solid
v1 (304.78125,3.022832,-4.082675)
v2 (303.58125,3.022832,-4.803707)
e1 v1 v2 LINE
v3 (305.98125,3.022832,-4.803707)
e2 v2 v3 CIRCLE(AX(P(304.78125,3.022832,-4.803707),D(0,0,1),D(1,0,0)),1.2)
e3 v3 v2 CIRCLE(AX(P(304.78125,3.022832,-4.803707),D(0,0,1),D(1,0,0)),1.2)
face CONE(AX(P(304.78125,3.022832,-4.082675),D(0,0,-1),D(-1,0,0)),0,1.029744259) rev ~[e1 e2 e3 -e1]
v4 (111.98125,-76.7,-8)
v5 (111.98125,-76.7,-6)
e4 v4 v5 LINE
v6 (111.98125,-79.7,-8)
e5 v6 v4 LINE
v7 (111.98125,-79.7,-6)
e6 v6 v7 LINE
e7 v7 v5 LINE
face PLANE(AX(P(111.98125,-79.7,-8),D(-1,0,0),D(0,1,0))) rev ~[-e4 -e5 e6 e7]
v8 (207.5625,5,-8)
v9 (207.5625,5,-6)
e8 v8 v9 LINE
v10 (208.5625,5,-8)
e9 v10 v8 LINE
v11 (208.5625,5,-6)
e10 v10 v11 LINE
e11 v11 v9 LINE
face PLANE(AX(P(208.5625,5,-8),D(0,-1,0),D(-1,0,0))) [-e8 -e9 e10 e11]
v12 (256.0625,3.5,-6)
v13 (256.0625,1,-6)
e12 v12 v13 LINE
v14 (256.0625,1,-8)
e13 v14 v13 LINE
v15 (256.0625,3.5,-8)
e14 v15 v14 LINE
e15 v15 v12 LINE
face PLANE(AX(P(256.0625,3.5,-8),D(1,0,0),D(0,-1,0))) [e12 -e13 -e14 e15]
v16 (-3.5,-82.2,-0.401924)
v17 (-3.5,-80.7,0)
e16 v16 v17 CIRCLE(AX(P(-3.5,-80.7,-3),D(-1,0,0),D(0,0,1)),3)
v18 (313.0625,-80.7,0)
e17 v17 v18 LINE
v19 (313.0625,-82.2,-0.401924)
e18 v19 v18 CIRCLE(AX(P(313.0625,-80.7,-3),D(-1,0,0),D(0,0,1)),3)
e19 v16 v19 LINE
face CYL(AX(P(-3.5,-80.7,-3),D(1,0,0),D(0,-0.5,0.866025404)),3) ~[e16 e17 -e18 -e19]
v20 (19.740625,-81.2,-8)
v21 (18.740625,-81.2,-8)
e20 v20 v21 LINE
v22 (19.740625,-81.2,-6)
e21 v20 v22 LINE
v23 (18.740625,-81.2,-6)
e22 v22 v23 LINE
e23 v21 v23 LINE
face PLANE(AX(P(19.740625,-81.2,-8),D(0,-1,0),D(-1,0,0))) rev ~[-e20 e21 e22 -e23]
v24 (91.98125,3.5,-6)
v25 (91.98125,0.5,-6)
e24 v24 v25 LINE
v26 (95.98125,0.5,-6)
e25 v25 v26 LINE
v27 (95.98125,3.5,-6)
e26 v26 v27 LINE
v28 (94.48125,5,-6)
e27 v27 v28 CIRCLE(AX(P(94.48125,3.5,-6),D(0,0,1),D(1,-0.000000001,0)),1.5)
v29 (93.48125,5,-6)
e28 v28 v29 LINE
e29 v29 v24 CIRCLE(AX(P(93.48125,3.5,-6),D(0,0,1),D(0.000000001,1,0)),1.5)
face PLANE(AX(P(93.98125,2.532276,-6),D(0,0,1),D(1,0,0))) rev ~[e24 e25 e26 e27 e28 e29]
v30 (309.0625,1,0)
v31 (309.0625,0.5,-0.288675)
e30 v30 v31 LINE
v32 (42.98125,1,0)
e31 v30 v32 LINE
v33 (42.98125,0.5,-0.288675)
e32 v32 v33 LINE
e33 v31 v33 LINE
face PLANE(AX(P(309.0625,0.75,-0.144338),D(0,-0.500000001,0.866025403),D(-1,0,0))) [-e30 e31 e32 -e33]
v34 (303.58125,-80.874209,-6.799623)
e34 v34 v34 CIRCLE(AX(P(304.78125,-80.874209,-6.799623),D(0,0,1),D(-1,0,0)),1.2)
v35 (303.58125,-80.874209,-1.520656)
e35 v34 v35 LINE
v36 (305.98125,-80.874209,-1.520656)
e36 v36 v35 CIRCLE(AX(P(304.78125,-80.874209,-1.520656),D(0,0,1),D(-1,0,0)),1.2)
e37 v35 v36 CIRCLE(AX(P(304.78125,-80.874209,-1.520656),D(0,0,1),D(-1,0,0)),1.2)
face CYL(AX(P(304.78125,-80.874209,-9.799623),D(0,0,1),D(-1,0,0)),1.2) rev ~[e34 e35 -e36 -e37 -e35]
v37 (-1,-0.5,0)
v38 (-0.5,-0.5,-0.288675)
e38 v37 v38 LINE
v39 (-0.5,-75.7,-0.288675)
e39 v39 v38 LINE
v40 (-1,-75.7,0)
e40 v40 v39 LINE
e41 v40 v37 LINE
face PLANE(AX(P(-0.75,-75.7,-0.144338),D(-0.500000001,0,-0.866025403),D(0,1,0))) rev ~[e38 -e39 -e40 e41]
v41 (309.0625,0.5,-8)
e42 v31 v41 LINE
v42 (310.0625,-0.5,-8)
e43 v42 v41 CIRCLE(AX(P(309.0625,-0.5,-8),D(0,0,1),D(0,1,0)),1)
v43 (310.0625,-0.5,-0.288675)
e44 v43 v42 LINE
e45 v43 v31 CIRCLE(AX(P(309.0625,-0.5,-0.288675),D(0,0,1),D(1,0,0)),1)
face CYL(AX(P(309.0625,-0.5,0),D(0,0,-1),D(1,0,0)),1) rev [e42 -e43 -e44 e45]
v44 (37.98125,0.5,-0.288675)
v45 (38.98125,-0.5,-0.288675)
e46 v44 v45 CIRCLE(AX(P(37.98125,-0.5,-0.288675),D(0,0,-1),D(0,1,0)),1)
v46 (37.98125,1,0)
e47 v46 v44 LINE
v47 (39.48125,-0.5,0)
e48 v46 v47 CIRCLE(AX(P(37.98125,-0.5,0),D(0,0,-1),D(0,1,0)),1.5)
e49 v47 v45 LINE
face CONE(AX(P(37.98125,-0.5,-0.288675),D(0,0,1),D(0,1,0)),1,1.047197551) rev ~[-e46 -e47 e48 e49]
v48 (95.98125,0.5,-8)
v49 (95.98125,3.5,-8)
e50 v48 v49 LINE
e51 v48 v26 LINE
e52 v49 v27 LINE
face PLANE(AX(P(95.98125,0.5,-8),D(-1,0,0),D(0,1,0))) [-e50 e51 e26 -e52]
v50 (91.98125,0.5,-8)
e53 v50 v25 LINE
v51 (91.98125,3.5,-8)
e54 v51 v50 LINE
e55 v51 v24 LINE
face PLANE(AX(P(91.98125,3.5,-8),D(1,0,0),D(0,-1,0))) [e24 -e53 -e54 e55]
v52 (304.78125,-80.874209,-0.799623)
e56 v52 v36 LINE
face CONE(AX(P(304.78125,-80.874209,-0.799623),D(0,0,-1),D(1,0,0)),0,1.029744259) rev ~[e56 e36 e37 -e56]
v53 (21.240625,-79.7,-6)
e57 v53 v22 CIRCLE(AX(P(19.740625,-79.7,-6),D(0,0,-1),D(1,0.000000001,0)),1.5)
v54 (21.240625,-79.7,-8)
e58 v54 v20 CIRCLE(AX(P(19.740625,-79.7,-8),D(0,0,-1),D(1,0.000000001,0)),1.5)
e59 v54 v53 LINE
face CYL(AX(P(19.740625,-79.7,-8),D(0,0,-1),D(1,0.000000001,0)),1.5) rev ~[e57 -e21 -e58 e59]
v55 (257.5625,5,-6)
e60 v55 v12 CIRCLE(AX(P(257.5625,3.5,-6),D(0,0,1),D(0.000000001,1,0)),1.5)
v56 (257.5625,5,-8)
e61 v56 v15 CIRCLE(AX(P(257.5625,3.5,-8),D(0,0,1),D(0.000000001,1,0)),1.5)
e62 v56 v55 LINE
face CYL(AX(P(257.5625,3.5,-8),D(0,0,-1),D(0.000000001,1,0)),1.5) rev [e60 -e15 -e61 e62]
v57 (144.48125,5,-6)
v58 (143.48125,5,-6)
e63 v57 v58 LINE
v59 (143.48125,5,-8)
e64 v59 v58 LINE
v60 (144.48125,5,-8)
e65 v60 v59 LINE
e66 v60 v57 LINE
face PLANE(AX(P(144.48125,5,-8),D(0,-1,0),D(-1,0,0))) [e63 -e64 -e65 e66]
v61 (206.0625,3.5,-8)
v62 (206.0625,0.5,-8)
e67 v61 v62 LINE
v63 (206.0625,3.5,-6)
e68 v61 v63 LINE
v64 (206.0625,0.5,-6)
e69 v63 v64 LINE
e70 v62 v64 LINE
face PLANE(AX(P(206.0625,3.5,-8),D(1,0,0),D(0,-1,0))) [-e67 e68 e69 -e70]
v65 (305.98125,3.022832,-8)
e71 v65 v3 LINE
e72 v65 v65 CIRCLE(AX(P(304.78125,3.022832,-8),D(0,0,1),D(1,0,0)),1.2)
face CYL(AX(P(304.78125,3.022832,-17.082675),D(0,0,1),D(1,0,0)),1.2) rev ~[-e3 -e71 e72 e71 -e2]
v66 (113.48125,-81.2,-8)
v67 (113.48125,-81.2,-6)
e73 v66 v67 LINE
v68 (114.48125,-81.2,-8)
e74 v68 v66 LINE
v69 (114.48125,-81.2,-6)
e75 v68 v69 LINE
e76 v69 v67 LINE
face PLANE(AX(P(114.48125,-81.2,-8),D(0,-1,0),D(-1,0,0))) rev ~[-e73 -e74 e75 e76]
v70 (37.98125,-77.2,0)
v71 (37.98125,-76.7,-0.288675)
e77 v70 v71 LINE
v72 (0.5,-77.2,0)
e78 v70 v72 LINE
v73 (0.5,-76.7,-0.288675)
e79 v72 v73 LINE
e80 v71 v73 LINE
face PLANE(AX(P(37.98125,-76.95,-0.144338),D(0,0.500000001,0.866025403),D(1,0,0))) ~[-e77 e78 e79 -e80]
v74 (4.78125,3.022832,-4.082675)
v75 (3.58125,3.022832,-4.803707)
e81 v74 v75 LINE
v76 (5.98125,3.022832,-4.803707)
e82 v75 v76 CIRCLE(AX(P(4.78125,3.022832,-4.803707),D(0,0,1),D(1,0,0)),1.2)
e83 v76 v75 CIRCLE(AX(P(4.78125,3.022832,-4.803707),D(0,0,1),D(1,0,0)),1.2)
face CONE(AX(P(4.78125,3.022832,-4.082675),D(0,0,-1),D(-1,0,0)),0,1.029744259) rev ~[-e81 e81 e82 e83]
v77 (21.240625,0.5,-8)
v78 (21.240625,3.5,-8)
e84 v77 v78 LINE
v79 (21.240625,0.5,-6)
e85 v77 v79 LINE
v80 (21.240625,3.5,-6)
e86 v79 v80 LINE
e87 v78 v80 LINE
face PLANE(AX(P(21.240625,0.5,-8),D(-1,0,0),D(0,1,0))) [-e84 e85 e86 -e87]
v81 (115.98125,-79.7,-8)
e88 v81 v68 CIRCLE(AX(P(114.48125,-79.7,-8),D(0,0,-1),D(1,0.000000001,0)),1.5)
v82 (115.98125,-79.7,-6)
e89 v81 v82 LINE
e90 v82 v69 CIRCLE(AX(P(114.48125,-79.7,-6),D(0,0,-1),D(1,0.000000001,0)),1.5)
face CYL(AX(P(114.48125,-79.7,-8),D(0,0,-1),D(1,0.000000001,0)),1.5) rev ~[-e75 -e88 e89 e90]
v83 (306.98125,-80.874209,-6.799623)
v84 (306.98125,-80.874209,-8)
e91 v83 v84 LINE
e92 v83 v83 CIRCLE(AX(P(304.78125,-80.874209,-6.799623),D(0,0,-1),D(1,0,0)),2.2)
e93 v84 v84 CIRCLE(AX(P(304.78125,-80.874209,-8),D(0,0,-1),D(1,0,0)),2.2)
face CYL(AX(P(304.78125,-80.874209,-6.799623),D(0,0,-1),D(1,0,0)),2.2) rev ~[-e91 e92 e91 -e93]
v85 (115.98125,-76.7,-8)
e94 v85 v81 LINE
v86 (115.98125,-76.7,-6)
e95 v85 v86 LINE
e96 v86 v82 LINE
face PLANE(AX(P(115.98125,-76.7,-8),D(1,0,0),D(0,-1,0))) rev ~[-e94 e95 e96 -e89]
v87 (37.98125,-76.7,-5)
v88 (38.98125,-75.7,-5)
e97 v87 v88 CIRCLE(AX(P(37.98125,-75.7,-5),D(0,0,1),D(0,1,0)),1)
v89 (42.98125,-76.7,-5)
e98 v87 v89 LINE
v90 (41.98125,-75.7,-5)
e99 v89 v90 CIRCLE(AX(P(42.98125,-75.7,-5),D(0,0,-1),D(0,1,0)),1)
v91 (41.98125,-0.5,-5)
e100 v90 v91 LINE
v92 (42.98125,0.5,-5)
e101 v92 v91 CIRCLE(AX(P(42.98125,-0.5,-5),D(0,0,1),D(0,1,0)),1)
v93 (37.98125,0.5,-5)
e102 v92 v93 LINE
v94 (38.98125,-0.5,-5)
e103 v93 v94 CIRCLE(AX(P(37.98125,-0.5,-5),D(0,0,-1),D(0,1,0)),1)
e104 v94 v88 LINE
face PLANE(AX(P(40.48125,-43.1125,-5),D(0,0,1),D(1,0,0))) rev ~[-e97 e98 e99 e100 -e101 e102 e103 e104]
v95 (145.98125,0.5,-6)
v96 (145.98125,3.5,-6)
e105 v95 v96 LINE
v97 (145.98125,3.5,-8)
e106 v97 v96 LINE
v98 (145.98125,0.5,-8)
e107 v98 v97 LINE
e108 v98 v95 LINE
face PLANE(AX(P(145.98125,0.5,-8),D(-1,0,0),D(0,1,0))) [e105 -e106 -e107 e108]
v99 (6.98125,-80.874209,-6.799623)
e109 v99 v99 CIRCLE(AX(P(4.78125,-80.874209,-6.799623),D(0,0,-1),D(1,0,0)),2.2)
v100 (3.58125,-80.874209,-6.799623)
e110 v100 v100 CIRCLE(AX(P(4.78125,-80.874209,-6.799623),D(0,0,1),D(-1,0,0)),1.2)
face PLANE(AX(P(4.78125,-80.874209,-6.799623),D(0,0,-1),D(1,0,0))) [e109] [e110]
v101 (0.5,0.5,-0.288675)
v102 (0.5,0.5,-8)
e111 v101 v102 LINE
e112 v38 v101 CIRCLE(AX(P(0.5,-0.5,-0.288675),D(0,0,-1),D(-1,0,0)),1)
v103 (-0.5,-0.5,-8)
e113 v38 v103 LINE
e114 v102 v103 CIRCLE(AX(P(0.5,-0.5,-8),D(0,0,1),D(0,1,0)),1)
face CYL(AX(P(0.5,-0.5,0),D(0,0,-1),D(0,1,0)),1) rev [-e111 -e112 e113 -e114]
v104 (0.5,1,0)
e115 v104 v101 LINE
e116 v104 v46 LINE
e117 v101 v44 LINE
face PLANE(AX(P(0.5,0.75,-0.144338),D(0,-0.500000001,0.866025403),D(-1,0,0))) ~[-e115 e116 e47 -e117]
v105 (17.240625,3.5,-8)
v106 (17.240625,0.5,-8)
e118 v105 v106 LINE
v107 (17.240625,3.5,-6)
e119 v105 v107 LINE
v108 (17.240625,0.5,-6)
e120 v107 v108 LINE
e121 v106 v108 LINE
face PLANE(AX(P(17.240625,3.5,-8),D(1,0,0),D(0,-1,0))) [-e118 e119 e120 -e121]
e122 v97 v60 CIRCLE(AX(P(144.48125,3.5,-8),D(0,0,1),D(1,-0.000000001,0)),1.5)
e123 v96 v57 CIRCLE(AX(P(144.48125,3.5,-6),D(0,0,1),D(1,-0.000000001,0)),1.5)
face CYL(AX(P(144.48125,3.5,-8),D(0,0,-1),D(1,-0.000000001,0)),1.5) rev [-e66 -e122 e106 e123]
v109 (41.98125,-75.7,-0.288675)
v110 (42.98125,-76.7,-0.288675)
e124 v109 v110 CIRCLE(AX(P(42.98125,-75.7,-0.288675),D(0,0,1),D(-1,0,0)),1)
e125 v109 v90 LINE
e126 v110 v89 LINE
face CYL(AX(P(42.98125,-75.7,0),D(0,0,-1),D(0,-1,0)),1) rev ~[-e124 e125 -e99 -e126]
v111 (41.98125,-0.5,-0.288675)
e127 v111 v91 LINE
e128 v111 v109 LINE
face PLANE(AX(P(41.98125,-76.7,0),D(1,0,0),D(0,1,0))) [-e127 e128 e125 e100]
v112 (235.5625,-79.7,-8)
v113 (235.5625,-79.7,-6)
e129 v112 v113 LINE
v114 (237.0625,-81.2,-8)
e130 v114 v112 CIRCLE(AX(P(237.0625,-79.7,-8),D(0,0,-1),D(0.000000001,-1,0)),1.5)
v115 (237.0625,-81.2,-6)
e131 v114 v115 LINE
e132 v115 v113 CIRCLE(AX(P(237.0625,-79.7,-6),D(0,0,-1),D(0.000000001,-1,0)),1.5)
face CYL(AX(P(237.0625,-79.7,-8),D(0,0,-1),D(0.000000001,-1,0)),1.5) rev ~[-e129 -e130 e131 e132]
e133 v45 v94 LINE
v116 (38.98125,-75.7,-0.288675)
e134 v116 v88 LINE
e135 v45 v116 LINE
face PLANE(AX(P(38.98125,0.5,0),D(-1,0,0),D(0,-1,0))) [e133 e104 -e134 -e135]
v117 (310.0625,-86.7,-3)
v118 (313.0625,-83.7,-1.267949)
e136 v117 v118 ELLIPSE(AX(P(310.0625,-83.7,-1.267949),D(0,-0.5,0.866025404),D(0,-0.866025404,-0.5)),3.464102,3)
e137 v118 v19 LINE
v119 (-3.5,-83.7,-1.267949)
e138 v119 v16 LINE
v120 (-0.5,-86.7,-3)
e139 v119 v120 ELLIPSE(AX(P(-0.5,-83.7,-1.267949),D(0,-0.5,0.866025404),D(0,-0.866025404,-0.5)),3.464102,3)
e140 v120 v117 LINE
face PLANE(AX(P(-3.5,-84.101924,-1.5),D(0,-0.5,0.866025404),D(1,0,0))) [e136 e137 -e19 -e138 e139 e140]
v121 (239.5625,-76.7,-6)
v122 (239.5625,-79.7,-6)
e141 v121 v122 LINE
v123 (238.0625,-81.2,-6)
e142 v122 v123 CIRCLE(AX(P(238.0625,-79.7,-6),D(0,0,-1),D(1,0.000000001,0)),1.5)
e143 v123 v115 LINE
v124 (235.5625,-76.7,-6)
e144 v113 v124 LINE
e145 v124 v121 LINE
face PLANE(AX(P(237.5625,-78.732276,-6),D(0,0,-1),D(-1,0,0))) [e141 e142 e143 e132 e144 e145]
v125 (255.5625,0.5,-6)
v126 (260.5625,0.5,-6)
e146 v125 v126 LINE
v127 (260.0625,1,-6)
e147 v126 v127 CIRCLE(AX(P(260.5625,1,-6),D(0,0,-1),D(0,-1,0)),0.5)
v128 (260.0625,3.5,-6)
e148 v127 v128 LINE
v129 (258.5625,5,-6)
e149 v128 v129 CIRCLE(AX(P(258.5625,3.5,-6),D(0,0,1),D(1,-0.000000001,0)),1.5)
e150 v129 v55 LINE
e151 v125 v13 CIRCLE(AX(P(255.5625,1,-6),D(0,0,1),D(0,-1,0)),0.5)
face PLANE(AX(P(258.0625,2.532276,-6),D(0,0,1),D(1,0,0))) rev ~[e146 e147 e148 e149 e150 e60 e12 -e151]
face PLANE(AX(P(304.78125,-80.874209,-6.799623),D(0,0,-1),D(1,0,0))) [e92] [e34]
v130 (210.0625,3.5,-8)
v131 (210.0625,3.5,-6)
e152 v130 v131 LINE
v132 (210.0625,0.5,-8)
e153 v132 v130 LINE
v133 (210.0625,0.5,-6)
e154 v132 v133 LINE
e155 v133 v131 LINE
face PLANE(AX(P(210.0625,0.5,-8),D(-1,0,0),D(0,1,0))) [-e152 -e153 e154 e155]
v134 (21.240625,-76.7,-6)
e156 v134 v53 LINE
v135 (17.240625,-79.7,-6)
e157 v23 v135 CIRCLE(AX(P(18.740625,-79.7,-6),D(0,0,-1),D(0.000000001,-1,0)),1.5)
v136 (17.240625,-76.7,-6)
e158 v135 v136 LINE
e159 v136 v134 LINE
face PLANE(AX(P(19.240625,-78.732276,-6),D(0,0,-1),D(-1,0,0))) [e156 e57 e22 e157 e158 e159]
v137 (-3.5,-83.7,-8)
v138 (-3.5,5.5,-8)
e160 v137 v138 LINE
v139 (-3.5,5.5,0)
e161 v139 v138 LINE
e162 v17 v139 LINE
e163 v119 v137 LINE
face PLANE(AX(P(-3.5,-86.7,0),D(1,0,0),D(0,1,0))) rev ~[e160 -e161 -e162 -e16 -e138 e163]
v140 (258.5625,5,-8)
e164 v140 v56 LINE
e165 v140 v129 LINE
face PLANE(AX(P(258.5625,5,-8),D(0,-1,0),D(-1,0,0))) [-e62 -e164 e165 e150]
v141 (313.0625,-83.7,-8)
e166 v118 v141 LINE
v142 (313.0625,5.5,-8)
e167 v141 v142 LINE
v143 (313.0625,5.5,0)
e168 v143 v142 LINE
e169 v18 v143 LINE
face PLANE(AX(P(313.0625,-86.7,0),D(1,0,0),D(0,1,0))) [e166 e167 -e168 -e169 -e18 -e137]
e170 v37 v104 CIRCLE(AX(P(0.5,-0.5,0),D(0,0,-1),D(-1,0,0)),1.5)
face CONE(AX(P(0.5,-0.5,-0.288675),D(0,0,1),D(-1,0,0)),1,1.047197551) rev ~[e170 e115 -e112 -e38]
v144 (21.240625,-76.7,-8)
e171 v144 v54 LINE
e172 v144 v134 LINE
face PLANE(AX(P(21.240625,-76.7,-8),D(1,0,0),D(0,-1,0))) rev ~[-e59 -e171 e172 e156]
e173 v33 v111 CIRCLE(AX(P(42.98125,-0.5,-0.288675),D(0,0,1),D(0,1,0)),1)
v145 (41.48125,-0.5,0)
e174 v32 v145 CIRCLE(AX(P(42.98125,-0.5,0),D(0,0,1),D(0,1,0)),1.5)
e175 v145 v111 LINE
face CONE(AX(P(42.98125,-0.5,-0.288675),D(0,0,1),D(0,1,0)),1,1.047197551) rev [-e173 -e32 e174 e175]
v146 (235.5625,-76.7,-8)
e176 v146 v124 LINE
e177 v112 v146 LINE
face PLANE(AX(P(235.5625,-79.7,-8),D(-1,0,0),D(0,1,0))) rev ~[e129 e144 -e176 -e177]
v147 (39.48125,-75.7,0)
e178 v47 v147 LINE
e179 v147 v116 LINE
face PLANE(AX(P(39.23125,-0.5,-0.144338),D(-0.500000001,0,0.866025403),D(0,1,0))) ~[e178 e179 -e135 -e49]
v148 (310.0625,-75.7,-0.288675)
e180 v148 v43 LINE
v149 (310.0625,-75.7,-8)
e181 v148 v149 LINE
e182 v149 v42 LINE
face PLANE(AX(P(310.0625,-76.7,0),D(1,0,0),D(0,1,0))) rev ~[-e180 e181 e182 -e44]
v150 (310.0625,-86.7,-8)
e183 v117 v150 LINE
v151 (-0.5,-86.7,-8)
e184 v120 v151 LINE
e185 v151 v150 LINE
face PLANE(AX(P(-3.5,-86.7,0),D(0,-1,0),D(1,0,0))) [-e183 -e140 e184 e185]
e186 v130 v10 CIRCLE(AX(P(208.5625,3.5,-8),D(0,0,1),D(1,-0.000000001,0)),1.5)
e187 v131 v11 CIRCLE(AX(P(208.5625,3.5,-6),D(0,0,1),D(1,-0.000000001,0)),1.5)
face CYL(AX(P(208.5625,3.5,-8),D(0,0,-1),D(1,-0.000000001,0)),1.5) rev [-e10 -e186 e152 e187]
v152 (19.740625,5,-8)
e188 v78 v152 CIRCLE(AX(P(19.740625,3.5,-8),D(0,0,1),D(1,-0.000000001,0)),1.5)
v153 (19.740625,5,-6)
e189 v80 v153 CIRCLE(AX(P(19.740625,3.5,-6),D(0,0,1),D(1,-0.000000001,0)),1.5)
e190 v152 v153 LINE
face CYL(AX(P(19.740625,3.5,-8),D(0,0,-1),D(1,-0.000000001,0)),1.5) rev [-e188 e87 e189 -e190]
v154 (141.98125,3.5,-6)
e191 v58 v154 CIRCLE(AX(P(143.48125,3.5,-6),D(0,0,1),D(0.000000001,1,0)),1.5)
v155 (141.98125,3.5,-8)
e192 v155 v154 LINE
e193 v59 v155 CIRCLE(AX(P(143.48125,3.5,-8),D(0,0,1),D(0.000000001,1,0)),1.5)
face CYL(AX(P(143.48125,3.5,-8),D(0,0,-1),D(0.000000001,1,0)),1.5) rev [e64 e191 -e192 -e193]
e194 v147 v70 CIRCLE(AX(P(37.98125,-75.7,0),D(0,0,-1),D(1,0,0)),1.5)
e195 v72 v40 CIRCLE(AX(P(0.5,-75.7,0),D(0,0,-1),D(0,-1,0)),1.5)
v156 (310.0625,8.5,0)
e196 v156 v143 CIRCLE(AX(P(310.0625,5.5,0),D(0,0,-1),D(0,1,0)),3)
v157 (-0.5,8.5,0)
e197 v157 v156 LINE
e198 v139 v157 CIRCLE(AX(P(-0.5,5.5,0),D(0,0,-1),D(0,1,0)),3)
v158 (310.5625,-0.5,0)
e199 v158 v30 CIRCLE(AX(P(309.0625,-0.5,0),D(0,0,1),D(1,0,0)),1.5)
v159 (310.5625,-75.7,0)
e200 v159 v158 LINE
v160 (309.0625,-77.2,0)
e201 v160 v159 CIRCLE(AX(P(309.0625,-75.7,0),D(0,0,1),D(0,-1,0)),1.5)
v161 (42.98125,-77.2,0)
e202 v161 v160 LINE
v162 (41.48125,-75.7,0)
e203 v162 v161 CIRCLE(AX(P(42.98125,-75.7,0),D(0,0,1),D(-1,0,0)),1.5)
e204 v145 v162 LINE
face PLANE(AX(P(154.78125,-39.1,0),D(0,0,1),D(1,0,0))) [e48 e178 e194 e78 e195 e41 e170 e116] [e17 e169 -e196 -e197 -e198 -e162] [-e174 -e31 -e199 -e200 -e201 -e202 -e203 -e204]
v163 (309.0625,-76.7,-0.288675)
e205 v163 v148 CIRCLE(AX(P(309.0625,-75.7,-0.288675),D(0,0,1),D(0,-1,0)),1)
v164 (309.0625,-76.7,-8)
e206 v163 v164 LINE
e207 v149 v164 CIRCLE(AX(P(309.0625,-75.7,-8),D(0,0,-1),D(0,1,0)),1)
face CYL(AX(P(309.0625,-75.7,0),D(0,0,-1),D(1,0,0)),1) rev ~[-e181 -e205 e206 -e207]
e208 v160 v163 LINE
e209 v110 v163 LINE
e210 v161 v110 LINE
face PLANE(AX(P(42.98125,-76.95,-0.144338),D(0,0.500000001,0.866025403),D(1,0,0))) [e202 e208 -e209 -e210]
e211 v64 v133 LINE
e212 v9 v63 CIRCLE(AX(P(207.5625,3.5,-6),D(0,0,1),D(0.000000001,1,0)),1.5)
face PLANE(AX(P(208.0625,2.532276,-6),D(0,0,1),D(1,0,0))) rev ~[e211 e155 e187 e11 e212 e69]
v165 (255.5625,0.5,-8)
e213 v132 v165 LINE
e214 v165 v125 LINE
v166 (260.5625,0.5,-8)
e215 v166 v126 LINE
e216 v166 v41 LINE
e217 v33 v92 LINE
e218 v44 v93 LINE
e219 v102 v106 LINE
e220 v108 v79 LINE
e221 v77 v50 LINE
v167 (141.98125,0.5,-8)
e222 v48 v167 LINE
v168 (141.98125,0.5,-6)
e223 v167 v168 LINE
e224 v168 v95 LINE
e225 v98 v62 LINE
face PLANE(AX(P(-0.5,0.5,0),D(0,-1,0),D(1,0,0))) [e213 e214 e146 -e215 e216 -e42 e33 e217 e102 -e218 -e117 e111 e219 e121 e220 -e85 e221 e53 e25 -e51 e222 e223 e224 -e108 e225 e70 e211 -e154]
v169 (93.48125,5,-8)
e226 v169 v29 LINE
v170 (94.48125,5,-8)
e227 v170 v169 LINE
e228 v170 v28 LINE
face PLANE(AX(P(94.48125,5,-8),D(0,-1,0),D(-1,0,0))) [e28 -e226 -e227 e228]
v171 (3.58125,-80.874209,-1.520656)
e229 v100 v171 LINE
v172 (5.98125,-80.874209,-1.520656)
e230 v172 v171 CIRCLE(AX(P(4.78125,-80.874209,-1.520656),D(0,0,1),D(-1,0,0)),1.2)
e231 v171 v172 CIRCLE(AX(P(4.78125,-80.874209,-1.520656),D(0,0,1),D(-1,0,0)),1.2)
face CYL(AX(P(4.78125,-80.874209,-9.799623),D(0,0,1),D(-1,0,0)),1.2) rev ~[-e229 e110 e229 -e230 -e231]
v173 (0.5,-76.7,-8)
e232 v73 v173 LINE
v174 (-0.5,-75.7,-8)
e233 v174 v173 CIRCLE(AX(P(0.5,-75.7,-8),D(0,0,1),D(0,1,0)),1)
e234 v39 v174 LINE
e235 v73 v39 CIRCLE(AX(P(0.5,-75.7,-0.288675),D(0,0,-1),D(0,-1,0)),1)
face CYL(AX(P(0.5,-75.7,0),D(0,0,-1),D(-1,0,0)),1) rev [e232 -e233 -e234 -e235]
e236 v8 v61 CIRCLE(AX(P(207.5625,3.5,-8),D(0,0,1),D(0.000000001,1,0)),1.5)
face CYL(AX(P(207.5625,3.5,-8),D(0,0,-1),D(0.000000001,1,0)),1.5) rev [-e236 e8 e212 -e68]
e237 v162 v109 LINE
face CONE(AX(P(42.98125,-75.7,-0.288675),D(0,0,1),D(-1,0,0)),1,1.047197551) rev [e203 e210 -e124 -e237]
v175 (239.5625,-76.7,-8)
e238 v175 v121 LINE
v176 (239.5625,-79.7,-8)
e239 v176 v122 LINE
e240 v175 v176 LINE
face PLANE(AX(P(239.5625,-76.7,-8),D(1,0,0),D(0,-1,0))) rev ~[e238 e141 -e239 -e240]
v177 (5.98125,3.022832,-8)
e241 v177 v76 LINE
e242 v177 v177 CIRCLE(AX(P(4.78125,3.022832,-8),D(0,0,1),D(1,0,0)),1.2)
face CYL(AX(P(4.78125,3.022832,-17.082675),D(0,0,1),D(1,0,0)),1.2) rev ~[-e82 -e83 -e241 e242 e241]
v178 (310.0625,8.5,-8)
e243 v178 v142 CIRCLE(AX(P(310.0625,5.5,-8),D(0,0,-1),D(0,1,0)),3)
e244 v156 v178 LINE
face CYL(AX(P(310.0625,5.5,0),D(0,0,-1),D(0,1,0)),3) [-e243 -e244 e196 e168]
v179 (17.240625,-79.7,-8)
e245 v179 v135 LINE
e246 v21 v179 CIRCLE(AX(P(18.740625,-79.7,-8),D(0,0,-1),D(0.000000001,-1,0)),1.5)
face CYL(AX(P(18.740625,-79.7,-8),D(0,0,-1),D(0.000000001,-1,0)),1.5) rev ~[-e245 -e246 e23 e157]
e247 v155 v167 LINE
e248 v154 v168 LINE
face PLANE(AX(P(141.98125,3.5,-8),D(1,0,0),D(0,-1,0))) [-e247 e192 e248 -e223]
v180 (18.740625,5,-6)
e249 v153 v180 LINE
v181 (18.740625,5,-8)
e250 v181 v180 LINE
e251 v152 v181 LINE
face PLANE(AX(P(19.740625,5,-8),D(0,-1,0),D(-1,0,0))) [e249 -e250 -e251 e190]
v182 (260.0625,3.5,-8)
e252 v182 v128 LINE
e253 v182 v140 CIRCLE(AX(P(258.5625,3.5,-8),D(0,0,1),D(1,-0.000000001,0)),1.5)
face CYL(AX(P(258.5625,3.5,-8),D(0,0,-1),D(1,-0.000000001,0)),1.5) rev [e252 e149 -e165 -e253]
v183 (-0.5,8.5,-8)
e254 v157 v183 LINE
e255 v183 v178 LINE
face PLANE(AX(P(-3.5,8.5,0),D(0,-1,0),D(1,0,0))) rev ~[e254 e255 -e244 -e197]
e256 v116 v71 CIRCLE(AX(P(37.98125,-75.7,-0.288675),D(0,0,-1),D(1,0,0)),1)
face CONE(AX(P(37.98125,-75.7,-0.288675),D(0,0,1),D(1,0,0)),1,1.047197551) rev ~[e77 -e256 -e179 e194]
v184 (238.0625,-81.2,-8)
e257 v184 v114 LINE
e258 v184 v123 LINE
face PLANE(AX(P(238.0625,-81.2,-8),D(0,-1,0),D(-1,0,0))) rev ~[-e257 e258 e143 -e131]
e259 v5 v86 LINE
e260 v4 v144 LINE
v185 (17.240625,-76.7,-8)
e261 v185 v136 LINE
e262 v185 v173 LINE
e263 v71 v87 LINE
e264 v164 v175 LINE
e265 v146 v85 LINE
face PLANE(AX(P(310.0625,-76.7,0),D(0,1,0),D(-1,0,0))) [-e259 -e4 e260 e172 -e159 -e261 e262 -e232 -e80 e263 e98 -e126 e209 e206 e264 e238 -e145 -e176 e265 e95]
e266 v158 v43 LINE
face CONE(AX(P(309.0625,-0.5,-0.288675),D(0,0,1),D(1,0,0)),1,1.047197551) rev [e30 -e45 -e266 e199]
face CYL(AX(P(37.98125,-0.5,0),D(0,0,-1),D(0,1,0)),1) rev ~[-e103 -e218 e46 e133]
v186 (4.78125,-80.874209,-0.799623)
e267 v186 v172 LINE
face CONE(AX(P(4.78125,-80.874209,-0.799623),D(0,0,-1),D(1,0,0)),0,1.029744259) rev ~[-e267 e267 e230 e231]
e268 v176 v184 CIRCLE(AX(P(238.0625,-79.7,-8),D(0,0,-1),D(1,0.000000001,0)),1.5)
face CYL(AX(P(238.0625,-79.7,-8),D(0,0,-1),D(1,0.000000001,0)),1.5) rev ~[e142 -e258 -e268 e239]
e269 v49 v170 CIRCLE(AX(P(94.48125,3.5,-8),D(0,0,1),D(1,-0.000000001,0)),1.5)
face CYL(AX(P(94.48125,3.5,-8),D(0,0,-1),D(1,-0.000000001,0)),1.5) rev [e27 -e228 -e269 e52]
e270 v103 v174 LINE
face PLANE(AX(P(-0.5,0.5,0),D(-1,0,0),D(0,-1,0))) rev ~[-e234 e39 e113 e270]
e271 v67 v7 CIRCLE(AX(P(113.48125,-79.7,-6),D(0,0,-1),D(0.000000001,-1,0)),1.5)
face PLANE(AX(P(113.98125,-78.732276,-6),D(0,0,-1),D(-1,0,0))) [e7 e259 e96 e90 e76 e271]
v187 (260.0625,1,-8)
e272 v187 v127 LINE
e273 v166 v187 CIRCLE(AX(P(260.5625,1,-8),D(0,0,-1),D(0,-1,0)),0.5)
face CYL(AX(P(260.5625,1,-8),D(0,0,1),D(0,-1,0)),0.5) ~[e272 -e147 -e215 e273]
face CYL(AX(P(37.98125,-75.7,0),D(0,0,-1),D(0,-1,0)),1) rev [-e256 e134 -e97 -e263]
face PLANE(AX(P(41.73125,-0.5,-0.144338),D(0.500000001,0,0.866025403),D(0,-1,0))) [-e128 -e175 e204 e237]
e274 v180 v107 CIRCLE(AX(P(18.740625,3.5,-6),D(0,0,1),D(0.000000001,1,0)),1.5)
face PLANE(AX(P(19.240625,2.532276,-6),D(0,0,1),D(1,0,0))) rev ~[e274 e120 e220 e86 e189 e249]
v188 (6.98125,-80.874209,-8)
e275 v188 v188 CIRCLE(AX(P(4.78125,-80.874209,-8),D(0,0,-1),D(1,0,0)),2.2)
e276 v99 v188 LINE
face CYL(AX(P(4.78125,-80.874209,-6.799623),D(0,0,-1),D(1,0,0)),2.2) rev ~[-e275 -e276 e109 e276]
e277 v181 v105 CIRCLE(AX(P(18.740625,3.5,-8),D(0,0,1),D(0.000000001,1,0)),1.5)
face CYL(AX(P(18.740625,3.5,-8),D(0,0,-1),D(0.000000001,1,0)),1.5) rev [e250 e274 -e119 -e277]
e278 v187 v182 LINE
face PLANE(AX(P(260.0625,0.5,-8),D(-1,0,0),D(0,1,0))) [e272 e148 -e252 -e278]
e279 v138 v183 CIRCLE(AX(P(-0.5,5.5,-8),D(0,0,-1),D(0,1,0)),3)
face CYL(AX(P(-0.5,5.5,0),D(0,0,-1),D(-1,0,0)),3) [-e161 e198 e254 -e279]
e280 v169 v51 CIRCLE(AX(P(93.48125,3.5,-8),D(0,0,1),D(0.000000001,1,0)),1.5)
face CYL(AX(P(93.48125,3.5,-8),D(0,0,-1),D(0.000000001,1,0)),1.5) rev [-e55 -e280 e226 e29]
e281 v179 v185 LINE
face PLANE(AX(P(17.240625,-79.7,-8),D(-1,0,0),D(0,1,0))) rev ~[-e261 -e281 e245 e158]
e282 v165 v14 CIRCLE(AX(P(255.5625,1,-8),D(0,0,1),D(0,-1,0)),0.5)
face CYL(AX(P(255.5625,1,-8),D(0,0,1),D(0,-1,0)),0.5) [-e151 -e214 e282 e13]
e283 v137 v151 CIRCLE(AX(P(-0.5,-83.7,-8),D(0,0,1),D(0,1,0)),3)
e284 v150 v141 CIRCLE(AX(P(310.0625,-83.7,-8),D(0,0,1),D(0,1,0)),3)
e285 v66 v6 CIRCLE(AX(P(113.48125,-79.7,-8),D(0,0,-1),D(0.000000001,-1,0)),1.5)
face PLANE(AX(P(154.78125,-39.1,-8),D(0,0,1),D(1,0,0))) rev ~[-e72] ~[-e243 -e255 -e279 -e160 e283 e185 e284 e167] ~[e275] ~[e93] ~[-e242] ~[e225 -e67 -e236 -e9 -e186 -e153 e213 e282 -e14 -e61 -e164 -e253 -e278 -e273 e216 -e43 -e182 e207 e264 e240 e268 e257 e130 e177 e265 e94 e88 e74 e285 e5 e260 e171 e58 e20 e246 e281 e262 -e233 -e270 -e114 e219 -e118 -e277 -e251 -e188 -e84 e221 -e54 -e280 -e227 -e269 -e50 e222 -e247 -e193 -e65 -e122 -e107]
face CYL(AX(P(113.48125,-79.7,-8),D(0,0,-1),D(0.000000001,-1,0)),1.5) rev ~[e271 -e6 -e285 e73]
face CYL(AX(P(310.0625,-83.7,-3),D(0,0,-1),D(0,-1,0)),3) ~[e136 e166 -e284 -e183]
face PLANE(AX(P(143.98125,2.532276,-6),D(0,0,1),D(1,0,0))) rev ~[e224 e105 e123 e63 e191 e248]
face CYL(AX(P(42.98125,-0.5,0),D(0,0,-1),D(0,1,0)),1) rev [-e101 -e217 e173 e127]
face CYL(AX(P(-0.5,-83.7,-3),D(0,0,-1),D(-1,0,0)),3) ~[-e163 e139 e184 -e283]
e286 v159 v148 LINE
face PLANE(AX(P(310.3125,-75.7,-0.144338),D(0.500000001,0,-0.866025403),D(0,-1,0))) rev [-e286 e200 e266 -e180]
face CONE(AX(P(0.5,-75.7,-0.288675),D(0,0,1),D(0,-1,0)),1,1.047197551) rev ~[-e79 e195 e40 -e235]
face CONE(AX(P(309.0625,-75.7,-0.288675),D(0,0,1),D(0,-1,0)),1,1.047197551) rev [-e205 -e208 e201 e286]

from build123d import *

# Parameters (mm, degrees)
SKETCH3_W                      = 316.5625
SKETCH3_H                      = 95.2
BOSS_EXTRUDE1_DEPTH            = 8
SKETCH3_3_W                    = 3
SKETCH3_3_H                    = 67.175
SKETCH3_3_H_2                  = 10.025
BOSS_EXTRUDE2_DEPTH            = 5
CHAMFER1_SIZE                  = 3
CHAMFER1_SIZE2                 = 5.196152423
FILLET3_R                      = 3
CUT_EXTRUDE1_DEPTH             = 2
FILLET1_R                      = 3
FILLET5_R                      = 1
CHAMFER2_SIZE                  = 0.5
CHAMFER2_SIZE2                 = 0.288675135
FILLET6_R                      = 0.5
CBORE_FOR_M2_SHCS2_D           = 2.4
CBORE_FOR_M2_SHCS2_DEPTH       = 12.278967257
CBORE_FOR_M2_SHCS2_CBORE_D     = 4.4
CBORE_FOR_M2_SHCS2_CBORE_DEPTH = 4
CBORE_FOR_M2_SHCS2_TIP         = 0.721032743
CBORE_FOR_M2_SHCS3_D           = 2.4
CBORE_FOR_M2_SHCS3_DEPTH       = 8.278967257
CBORE_FOR_M2_SHCS3_CBORE_D     = 4.4
CBORE_FOR_M2_SHCS3_CBORE_DEPTH = 3
CBORE_FOR_M2_SHCS3_TIP         = 0.721032743


with BuildPart() as part:
    # Sketch3 → Boss-Extrude1 (new body)
    with BuildSketch(Plane.XY):
        with Locations((154.78125, -39.1)):
            Rectangle(SKETCH3_W, SKETCH3_H)
        Polygon((38.98125, -76.7), (41.98125, -76.7), (310.0625, -76.7), (310.0625, 0.5), (41.98125, 0.5), (38.98125, 0.5), (-0.5, 0.5), (-0.5, -76.7), align=None, mode=Mode.SUBTRACT)
    extrude(amount=-BOSS_EXTRUDE1_DEPTH)

    # Sketch3<3> → Boss-Extrude2 (add)
    with BuildSketch(Plane.XY):
        with Locations((40.48125, -43.1125)):
            Rectangle(SKETCH3_3_W, SKETCH3_3_H)
        with Locations((40.48125, -4.5125)):
            Rectangle(SKETCH3_3_W, SKETCH3_3_H_2)
    extrude(amount=-BOSS_EXTRUDE2_DEPTH)

    # Chamfer1
    chamfer1_edges = [part.edges().sort_by_distance(p)[0] for p in [
        (154.78125, -86.7, 0),
    ]]
    chamfer1_side = [part.faces().sort_by_distance(p)[0] for p in [
        (154.78125, -86.7, -4),
    ]]
    chamfer(chamfer1_edges, length=CHAMFER1_SIZE, length2=CHAMFER1_SIZE2, reference=chamfer1_side[0])

    # Fillet3
    fillet3_edges = [part.edges().sort_by_distance(p)[0] for p in [
        (154.78125, -81.503847577, 0),
    ]]
    fillet(fillet3_edges, radius=FILLET3_R)

    # Sketch8 → Cut-Extrude1 (cut)
    with BuildSketch(Plane(origin=(0, 0, -8), x_dir=(-1, 0, 0), z_dir=(0, 0, -1))):
        with BuildLine():
            Line((-260.0625, 0.5), (-260.0625, 3.5))
            ThreePointArc((-260.0625, 3.5), (-259.623160172, 4.560660172), (-258.5625, 5))
            Line((-258.5625, 5), (-257.5625, 5))
            ThreePointArc((-257.5625, 5), (-256.501839828, 4.560660172), (-256.0625, 3.5))
            Line((-256.0625, 3.5), (-256.0625, 0.5))
            Line((-256.0625, 0.5), (-260.0625, 0.5))
        make_face()
        with BuildLine():
            Line((-115.98125, -76.7), (-115.98125, -79.7))
            ThreePointArc((-115.98125, -79.7), (-115.541910172, -80.760660172), (-114.48125, -81.2))
            Line((-114.48125, -81.2), (-113.48125, -81.2))
            ThreePointArc((-113.48125, -81.2), (-112.420589828, -80.760660172), (-111.98125, -79.7))
            Line((-111.98125, -79.7), (-111.98125, -76.7))
            Line((-111.98125, -76.7), (-115.98125, -76.7))
        make_face()
        with BuildLine():
            Line((-210.0625, 0.5), (-210.0625, 3.5))
            ThreePointArc((-210.0625, 3.5), (-209.623160172, 4.560660172), (-208.5625, 5))
            Line((-208.5625, 5), (-207.5625, 5))
            ThreePointArc((-207.5625, 5), (-206.501839828, 4.560660172), (-206.0625, 3.5))
            Line((-206.0625, 3.5), (-206.0625, 0.5))
            Line((-206.0625, 0.5), (-210.0625, 0.5))
        make_face()
        with BuildLine():
            Line((-145.98125, 0.5), (-145.98125, 3.5))
            ThreePointArc((-145.98125, 3.5), (-145.541910172, 4.560660172), (-144.48125, 5))
            Line((-144.48125, 5), (-143.48125, 5))
            ThreePointArc((-143.48125, 5), (-142.420589828, 4.560660172), (-141.98125, 3.5))
            Line((-141.98125, 3.5), (-141.98125, 0.5))
            Line((-141.98125, 0.5), (-145.98125, 0.5))
        make_face()
        with BuildLine():
            Line((-95.98125, 0.5), (-95.98125, 3.5))
            ThreePointArc((-95.98125, 3.5), (-95.541910172, 4.560660172), (-94.48125, 5))
            Line((-94.48125, 5), (-93.48125, 5))
            ThreePointArc((-93.48125, 5), (-92.420589828, 4.560660172), (-91.98125, 3.5))
            Line((-91.98125, 3.5), (-91.98125, 0.5))
            Line((-91.98125, 0.5), (-95.98125, 0.5))
        make_face()
        with BuildLine():
            Line((-21.240625, 0.5), (-21.240625, 3.5))
            ThreePointArc((-21.240625, 3.5), (-20.801285172, 4.560660172), (-19.740625, 5))
            Line((-19.740625, 5), (-18.740625, 5))
            ThreePointArc((-18.740625, 5), (-17.679964828, 4.560660172), (-17.240625, 3.5))
            Line((-17.240625, 3.5), (-17.240625, 0.5))
            Line((-17.240625, 0.5), (-21.240625, 0.5))
        make_face()
        with BuildLine():
            Line((-239.5625, -76.7), (-239.5625, -79.7))
            ThreePointArc((-239.5625, -79.7), (-239.123160172, -80.760660172), (-238.0625, -81.2))
            Line((-238.0625, -81.2), (-237.0625, -81.2))
            ThreePointArc((-237.0625, -81.2), (-236.001839828, -80.760660172), (-235.5625, -79.7))
            Line((-235.5625, -79.7), (-235.5625, -76.7))
            Line((-235.5625, -76.7), (-239.5625, -76.7))
        make_face()
        with BuildLine():
            Line((-21.240625, -76.7), (-21.240625, -79.7))
            ThreePointArc((-21.240625, -79.7), (-20.801285172, -80.760660172), (-19.740625, -81.2))
            Line((-19.740625, -81.2), (-18.740625, -81.2))
            ThreePointArc((-18.740625, -81.2), (-17.679964828, -80.760660172), (-17.240625, -79.7))
            Line((-17.240625, -79.7), (-17.240625, -76.7))
            Line((-17.240625, -76.7), (-21.240625, -76.7))
        make_face()
    extrude(amount=-CUT_EXTRUDE1_DEPTH, mode=Mode.SUBTRACT)

    # Fillet1
    fillet1_edges = [part.edges().sort_by_distance(p)[0] for p in [
        (313.0625, -86.7, -5.5),
        (-3.5, -86.7, -5.5),
        (-3.5, 8.5, -4),
        (313.0625, 8.5, -4),
    ]]
    fillet(fillet1_edges, radius=FILLET1_R)

    # Fillet5
    fillet5_edges = [part.edges().sort_by_distance(p)[0] for p in [
        (310.0625, -76.7, -4),
        (310.0625, 0.5, -4),
        (-0.5, 0.5, -4),
        (-0.5, -76.7, -4),
        (41.98125, 0.5, -2.5),
        (41.98125, -76.7, -2.5),
        (38.98125, -76.7, -2.5),
        (38.98125, 0.5, -2.5),
    ]]
    fillet(fillet5_edges, radius=FILLET5_R)

    # Chamfer2
    chamfer2_edges = [part.edges().sort_by_distance(p)[0] for p in [
        (310.0625, -38.1, 0),
        (19.240625, -76.7, 0),
        (176.021875, -76.7, 0),
        (176.021875, 0.5, 0),
        (19.240625, 0.5, 0),
        (41.98125, -38.1, 0),
        (38.98125, -38.1, 0),
        (-0.5, -38.1, 0),
        (309.769606781, -76.407106781, 0),
        (309.769606781, 0.207106781, 0),
        (42.274143219, 0.207106781, 0),
        (42.274143219, -76.407106781, 0),
        (38.688356781, -76.407106781, 0),
        (-0.207106781, -76.407106781, 0),
        (-0.207106781, 0.207106781, 0),
        (38.688356781, 0.207106781, 0),
    ]]
    chamfer2_side = [part.faces().sort_by_distance(p)[0] for p in [
        (310.391389733, -38.1, 0),
    ]]
    chamfer(chamfer2_edges, length=CHAMFER2_SIZE, length2=CHAMFER2_SIZE2, reference=chamfer2_side[0])

    # Fillet6
    fillet6_edges = [part.edges().sort_by_distance(p)[0] for p in [
        (256.0625, 0.5, -7),
        (260.0625, 0.5, -7),
    ]]
    fillet(fillet6_edges, radius=FILLET6_R)

    # CBORE for M2 SHCS2
    with Locations(Plane(origin=(0, -0.720708302, -17.082674747), x_dir=(-1, 0, 0), z_dir=(0, 0, -1))):
        with Locations((-304.78125, 3.743540113), (-4.78125, 3.743540113)):
            CounterBoreHole(CBORE_FOR_M2_SHCS2_D / 2, CBORE_FOR_M2_SHCS2_CBORE_D / 2, CBORE_FOR_M2_SHCS2_CBORE_DEPTH, depth=CBORE_FOR_M2_SHCS2_DEPTH)
            with Locations((0, 0, -(CBORE_FOR_M2_SHCS2_DEPTH + CBORE_FOR_M2_SHCS2_TIP / 2))):  # 118° drill point
                Cone(0, CBORE_FOR_M2_SHCS2_D / 2, CBORE_FOR_M2_SHCS2_TIP, mode=Mode.SUBTRACT)

    # CBORE for M2 SHCS3
    with Locations(Plane(origin=(0, 0, -9.799622892), x_dir=(1, 0, 0), z_dir=(0, 0, -1))):
        with Locations((4.78125, 80.87420884), (304.78125, 80.87420884)):
            CounterBoreHole(CBORE_FOR_M2_SHCS3_D / 2, CBORE_FOR_M2_SHCS3_CBORE_D / 2, CBORE_FOR_M2_SHCS3_CBORE_DEPTH, depth=CBORE_FOR_M2_SHCS3_DEPTH)
            with Locations((0, 0, -(CBORE_FOR_M2_SHCS3_DEPTH + CBORE_FOR_M2_SHCS3_TIP / 2))):  # 118° drill point
                Cone(0, CBORE_FOR_M2_SHCS3_D / 2, CBORE_FOR_M2_SHCS3_TIP, mode=Mode.SUBTRACT)


solid = part.part
